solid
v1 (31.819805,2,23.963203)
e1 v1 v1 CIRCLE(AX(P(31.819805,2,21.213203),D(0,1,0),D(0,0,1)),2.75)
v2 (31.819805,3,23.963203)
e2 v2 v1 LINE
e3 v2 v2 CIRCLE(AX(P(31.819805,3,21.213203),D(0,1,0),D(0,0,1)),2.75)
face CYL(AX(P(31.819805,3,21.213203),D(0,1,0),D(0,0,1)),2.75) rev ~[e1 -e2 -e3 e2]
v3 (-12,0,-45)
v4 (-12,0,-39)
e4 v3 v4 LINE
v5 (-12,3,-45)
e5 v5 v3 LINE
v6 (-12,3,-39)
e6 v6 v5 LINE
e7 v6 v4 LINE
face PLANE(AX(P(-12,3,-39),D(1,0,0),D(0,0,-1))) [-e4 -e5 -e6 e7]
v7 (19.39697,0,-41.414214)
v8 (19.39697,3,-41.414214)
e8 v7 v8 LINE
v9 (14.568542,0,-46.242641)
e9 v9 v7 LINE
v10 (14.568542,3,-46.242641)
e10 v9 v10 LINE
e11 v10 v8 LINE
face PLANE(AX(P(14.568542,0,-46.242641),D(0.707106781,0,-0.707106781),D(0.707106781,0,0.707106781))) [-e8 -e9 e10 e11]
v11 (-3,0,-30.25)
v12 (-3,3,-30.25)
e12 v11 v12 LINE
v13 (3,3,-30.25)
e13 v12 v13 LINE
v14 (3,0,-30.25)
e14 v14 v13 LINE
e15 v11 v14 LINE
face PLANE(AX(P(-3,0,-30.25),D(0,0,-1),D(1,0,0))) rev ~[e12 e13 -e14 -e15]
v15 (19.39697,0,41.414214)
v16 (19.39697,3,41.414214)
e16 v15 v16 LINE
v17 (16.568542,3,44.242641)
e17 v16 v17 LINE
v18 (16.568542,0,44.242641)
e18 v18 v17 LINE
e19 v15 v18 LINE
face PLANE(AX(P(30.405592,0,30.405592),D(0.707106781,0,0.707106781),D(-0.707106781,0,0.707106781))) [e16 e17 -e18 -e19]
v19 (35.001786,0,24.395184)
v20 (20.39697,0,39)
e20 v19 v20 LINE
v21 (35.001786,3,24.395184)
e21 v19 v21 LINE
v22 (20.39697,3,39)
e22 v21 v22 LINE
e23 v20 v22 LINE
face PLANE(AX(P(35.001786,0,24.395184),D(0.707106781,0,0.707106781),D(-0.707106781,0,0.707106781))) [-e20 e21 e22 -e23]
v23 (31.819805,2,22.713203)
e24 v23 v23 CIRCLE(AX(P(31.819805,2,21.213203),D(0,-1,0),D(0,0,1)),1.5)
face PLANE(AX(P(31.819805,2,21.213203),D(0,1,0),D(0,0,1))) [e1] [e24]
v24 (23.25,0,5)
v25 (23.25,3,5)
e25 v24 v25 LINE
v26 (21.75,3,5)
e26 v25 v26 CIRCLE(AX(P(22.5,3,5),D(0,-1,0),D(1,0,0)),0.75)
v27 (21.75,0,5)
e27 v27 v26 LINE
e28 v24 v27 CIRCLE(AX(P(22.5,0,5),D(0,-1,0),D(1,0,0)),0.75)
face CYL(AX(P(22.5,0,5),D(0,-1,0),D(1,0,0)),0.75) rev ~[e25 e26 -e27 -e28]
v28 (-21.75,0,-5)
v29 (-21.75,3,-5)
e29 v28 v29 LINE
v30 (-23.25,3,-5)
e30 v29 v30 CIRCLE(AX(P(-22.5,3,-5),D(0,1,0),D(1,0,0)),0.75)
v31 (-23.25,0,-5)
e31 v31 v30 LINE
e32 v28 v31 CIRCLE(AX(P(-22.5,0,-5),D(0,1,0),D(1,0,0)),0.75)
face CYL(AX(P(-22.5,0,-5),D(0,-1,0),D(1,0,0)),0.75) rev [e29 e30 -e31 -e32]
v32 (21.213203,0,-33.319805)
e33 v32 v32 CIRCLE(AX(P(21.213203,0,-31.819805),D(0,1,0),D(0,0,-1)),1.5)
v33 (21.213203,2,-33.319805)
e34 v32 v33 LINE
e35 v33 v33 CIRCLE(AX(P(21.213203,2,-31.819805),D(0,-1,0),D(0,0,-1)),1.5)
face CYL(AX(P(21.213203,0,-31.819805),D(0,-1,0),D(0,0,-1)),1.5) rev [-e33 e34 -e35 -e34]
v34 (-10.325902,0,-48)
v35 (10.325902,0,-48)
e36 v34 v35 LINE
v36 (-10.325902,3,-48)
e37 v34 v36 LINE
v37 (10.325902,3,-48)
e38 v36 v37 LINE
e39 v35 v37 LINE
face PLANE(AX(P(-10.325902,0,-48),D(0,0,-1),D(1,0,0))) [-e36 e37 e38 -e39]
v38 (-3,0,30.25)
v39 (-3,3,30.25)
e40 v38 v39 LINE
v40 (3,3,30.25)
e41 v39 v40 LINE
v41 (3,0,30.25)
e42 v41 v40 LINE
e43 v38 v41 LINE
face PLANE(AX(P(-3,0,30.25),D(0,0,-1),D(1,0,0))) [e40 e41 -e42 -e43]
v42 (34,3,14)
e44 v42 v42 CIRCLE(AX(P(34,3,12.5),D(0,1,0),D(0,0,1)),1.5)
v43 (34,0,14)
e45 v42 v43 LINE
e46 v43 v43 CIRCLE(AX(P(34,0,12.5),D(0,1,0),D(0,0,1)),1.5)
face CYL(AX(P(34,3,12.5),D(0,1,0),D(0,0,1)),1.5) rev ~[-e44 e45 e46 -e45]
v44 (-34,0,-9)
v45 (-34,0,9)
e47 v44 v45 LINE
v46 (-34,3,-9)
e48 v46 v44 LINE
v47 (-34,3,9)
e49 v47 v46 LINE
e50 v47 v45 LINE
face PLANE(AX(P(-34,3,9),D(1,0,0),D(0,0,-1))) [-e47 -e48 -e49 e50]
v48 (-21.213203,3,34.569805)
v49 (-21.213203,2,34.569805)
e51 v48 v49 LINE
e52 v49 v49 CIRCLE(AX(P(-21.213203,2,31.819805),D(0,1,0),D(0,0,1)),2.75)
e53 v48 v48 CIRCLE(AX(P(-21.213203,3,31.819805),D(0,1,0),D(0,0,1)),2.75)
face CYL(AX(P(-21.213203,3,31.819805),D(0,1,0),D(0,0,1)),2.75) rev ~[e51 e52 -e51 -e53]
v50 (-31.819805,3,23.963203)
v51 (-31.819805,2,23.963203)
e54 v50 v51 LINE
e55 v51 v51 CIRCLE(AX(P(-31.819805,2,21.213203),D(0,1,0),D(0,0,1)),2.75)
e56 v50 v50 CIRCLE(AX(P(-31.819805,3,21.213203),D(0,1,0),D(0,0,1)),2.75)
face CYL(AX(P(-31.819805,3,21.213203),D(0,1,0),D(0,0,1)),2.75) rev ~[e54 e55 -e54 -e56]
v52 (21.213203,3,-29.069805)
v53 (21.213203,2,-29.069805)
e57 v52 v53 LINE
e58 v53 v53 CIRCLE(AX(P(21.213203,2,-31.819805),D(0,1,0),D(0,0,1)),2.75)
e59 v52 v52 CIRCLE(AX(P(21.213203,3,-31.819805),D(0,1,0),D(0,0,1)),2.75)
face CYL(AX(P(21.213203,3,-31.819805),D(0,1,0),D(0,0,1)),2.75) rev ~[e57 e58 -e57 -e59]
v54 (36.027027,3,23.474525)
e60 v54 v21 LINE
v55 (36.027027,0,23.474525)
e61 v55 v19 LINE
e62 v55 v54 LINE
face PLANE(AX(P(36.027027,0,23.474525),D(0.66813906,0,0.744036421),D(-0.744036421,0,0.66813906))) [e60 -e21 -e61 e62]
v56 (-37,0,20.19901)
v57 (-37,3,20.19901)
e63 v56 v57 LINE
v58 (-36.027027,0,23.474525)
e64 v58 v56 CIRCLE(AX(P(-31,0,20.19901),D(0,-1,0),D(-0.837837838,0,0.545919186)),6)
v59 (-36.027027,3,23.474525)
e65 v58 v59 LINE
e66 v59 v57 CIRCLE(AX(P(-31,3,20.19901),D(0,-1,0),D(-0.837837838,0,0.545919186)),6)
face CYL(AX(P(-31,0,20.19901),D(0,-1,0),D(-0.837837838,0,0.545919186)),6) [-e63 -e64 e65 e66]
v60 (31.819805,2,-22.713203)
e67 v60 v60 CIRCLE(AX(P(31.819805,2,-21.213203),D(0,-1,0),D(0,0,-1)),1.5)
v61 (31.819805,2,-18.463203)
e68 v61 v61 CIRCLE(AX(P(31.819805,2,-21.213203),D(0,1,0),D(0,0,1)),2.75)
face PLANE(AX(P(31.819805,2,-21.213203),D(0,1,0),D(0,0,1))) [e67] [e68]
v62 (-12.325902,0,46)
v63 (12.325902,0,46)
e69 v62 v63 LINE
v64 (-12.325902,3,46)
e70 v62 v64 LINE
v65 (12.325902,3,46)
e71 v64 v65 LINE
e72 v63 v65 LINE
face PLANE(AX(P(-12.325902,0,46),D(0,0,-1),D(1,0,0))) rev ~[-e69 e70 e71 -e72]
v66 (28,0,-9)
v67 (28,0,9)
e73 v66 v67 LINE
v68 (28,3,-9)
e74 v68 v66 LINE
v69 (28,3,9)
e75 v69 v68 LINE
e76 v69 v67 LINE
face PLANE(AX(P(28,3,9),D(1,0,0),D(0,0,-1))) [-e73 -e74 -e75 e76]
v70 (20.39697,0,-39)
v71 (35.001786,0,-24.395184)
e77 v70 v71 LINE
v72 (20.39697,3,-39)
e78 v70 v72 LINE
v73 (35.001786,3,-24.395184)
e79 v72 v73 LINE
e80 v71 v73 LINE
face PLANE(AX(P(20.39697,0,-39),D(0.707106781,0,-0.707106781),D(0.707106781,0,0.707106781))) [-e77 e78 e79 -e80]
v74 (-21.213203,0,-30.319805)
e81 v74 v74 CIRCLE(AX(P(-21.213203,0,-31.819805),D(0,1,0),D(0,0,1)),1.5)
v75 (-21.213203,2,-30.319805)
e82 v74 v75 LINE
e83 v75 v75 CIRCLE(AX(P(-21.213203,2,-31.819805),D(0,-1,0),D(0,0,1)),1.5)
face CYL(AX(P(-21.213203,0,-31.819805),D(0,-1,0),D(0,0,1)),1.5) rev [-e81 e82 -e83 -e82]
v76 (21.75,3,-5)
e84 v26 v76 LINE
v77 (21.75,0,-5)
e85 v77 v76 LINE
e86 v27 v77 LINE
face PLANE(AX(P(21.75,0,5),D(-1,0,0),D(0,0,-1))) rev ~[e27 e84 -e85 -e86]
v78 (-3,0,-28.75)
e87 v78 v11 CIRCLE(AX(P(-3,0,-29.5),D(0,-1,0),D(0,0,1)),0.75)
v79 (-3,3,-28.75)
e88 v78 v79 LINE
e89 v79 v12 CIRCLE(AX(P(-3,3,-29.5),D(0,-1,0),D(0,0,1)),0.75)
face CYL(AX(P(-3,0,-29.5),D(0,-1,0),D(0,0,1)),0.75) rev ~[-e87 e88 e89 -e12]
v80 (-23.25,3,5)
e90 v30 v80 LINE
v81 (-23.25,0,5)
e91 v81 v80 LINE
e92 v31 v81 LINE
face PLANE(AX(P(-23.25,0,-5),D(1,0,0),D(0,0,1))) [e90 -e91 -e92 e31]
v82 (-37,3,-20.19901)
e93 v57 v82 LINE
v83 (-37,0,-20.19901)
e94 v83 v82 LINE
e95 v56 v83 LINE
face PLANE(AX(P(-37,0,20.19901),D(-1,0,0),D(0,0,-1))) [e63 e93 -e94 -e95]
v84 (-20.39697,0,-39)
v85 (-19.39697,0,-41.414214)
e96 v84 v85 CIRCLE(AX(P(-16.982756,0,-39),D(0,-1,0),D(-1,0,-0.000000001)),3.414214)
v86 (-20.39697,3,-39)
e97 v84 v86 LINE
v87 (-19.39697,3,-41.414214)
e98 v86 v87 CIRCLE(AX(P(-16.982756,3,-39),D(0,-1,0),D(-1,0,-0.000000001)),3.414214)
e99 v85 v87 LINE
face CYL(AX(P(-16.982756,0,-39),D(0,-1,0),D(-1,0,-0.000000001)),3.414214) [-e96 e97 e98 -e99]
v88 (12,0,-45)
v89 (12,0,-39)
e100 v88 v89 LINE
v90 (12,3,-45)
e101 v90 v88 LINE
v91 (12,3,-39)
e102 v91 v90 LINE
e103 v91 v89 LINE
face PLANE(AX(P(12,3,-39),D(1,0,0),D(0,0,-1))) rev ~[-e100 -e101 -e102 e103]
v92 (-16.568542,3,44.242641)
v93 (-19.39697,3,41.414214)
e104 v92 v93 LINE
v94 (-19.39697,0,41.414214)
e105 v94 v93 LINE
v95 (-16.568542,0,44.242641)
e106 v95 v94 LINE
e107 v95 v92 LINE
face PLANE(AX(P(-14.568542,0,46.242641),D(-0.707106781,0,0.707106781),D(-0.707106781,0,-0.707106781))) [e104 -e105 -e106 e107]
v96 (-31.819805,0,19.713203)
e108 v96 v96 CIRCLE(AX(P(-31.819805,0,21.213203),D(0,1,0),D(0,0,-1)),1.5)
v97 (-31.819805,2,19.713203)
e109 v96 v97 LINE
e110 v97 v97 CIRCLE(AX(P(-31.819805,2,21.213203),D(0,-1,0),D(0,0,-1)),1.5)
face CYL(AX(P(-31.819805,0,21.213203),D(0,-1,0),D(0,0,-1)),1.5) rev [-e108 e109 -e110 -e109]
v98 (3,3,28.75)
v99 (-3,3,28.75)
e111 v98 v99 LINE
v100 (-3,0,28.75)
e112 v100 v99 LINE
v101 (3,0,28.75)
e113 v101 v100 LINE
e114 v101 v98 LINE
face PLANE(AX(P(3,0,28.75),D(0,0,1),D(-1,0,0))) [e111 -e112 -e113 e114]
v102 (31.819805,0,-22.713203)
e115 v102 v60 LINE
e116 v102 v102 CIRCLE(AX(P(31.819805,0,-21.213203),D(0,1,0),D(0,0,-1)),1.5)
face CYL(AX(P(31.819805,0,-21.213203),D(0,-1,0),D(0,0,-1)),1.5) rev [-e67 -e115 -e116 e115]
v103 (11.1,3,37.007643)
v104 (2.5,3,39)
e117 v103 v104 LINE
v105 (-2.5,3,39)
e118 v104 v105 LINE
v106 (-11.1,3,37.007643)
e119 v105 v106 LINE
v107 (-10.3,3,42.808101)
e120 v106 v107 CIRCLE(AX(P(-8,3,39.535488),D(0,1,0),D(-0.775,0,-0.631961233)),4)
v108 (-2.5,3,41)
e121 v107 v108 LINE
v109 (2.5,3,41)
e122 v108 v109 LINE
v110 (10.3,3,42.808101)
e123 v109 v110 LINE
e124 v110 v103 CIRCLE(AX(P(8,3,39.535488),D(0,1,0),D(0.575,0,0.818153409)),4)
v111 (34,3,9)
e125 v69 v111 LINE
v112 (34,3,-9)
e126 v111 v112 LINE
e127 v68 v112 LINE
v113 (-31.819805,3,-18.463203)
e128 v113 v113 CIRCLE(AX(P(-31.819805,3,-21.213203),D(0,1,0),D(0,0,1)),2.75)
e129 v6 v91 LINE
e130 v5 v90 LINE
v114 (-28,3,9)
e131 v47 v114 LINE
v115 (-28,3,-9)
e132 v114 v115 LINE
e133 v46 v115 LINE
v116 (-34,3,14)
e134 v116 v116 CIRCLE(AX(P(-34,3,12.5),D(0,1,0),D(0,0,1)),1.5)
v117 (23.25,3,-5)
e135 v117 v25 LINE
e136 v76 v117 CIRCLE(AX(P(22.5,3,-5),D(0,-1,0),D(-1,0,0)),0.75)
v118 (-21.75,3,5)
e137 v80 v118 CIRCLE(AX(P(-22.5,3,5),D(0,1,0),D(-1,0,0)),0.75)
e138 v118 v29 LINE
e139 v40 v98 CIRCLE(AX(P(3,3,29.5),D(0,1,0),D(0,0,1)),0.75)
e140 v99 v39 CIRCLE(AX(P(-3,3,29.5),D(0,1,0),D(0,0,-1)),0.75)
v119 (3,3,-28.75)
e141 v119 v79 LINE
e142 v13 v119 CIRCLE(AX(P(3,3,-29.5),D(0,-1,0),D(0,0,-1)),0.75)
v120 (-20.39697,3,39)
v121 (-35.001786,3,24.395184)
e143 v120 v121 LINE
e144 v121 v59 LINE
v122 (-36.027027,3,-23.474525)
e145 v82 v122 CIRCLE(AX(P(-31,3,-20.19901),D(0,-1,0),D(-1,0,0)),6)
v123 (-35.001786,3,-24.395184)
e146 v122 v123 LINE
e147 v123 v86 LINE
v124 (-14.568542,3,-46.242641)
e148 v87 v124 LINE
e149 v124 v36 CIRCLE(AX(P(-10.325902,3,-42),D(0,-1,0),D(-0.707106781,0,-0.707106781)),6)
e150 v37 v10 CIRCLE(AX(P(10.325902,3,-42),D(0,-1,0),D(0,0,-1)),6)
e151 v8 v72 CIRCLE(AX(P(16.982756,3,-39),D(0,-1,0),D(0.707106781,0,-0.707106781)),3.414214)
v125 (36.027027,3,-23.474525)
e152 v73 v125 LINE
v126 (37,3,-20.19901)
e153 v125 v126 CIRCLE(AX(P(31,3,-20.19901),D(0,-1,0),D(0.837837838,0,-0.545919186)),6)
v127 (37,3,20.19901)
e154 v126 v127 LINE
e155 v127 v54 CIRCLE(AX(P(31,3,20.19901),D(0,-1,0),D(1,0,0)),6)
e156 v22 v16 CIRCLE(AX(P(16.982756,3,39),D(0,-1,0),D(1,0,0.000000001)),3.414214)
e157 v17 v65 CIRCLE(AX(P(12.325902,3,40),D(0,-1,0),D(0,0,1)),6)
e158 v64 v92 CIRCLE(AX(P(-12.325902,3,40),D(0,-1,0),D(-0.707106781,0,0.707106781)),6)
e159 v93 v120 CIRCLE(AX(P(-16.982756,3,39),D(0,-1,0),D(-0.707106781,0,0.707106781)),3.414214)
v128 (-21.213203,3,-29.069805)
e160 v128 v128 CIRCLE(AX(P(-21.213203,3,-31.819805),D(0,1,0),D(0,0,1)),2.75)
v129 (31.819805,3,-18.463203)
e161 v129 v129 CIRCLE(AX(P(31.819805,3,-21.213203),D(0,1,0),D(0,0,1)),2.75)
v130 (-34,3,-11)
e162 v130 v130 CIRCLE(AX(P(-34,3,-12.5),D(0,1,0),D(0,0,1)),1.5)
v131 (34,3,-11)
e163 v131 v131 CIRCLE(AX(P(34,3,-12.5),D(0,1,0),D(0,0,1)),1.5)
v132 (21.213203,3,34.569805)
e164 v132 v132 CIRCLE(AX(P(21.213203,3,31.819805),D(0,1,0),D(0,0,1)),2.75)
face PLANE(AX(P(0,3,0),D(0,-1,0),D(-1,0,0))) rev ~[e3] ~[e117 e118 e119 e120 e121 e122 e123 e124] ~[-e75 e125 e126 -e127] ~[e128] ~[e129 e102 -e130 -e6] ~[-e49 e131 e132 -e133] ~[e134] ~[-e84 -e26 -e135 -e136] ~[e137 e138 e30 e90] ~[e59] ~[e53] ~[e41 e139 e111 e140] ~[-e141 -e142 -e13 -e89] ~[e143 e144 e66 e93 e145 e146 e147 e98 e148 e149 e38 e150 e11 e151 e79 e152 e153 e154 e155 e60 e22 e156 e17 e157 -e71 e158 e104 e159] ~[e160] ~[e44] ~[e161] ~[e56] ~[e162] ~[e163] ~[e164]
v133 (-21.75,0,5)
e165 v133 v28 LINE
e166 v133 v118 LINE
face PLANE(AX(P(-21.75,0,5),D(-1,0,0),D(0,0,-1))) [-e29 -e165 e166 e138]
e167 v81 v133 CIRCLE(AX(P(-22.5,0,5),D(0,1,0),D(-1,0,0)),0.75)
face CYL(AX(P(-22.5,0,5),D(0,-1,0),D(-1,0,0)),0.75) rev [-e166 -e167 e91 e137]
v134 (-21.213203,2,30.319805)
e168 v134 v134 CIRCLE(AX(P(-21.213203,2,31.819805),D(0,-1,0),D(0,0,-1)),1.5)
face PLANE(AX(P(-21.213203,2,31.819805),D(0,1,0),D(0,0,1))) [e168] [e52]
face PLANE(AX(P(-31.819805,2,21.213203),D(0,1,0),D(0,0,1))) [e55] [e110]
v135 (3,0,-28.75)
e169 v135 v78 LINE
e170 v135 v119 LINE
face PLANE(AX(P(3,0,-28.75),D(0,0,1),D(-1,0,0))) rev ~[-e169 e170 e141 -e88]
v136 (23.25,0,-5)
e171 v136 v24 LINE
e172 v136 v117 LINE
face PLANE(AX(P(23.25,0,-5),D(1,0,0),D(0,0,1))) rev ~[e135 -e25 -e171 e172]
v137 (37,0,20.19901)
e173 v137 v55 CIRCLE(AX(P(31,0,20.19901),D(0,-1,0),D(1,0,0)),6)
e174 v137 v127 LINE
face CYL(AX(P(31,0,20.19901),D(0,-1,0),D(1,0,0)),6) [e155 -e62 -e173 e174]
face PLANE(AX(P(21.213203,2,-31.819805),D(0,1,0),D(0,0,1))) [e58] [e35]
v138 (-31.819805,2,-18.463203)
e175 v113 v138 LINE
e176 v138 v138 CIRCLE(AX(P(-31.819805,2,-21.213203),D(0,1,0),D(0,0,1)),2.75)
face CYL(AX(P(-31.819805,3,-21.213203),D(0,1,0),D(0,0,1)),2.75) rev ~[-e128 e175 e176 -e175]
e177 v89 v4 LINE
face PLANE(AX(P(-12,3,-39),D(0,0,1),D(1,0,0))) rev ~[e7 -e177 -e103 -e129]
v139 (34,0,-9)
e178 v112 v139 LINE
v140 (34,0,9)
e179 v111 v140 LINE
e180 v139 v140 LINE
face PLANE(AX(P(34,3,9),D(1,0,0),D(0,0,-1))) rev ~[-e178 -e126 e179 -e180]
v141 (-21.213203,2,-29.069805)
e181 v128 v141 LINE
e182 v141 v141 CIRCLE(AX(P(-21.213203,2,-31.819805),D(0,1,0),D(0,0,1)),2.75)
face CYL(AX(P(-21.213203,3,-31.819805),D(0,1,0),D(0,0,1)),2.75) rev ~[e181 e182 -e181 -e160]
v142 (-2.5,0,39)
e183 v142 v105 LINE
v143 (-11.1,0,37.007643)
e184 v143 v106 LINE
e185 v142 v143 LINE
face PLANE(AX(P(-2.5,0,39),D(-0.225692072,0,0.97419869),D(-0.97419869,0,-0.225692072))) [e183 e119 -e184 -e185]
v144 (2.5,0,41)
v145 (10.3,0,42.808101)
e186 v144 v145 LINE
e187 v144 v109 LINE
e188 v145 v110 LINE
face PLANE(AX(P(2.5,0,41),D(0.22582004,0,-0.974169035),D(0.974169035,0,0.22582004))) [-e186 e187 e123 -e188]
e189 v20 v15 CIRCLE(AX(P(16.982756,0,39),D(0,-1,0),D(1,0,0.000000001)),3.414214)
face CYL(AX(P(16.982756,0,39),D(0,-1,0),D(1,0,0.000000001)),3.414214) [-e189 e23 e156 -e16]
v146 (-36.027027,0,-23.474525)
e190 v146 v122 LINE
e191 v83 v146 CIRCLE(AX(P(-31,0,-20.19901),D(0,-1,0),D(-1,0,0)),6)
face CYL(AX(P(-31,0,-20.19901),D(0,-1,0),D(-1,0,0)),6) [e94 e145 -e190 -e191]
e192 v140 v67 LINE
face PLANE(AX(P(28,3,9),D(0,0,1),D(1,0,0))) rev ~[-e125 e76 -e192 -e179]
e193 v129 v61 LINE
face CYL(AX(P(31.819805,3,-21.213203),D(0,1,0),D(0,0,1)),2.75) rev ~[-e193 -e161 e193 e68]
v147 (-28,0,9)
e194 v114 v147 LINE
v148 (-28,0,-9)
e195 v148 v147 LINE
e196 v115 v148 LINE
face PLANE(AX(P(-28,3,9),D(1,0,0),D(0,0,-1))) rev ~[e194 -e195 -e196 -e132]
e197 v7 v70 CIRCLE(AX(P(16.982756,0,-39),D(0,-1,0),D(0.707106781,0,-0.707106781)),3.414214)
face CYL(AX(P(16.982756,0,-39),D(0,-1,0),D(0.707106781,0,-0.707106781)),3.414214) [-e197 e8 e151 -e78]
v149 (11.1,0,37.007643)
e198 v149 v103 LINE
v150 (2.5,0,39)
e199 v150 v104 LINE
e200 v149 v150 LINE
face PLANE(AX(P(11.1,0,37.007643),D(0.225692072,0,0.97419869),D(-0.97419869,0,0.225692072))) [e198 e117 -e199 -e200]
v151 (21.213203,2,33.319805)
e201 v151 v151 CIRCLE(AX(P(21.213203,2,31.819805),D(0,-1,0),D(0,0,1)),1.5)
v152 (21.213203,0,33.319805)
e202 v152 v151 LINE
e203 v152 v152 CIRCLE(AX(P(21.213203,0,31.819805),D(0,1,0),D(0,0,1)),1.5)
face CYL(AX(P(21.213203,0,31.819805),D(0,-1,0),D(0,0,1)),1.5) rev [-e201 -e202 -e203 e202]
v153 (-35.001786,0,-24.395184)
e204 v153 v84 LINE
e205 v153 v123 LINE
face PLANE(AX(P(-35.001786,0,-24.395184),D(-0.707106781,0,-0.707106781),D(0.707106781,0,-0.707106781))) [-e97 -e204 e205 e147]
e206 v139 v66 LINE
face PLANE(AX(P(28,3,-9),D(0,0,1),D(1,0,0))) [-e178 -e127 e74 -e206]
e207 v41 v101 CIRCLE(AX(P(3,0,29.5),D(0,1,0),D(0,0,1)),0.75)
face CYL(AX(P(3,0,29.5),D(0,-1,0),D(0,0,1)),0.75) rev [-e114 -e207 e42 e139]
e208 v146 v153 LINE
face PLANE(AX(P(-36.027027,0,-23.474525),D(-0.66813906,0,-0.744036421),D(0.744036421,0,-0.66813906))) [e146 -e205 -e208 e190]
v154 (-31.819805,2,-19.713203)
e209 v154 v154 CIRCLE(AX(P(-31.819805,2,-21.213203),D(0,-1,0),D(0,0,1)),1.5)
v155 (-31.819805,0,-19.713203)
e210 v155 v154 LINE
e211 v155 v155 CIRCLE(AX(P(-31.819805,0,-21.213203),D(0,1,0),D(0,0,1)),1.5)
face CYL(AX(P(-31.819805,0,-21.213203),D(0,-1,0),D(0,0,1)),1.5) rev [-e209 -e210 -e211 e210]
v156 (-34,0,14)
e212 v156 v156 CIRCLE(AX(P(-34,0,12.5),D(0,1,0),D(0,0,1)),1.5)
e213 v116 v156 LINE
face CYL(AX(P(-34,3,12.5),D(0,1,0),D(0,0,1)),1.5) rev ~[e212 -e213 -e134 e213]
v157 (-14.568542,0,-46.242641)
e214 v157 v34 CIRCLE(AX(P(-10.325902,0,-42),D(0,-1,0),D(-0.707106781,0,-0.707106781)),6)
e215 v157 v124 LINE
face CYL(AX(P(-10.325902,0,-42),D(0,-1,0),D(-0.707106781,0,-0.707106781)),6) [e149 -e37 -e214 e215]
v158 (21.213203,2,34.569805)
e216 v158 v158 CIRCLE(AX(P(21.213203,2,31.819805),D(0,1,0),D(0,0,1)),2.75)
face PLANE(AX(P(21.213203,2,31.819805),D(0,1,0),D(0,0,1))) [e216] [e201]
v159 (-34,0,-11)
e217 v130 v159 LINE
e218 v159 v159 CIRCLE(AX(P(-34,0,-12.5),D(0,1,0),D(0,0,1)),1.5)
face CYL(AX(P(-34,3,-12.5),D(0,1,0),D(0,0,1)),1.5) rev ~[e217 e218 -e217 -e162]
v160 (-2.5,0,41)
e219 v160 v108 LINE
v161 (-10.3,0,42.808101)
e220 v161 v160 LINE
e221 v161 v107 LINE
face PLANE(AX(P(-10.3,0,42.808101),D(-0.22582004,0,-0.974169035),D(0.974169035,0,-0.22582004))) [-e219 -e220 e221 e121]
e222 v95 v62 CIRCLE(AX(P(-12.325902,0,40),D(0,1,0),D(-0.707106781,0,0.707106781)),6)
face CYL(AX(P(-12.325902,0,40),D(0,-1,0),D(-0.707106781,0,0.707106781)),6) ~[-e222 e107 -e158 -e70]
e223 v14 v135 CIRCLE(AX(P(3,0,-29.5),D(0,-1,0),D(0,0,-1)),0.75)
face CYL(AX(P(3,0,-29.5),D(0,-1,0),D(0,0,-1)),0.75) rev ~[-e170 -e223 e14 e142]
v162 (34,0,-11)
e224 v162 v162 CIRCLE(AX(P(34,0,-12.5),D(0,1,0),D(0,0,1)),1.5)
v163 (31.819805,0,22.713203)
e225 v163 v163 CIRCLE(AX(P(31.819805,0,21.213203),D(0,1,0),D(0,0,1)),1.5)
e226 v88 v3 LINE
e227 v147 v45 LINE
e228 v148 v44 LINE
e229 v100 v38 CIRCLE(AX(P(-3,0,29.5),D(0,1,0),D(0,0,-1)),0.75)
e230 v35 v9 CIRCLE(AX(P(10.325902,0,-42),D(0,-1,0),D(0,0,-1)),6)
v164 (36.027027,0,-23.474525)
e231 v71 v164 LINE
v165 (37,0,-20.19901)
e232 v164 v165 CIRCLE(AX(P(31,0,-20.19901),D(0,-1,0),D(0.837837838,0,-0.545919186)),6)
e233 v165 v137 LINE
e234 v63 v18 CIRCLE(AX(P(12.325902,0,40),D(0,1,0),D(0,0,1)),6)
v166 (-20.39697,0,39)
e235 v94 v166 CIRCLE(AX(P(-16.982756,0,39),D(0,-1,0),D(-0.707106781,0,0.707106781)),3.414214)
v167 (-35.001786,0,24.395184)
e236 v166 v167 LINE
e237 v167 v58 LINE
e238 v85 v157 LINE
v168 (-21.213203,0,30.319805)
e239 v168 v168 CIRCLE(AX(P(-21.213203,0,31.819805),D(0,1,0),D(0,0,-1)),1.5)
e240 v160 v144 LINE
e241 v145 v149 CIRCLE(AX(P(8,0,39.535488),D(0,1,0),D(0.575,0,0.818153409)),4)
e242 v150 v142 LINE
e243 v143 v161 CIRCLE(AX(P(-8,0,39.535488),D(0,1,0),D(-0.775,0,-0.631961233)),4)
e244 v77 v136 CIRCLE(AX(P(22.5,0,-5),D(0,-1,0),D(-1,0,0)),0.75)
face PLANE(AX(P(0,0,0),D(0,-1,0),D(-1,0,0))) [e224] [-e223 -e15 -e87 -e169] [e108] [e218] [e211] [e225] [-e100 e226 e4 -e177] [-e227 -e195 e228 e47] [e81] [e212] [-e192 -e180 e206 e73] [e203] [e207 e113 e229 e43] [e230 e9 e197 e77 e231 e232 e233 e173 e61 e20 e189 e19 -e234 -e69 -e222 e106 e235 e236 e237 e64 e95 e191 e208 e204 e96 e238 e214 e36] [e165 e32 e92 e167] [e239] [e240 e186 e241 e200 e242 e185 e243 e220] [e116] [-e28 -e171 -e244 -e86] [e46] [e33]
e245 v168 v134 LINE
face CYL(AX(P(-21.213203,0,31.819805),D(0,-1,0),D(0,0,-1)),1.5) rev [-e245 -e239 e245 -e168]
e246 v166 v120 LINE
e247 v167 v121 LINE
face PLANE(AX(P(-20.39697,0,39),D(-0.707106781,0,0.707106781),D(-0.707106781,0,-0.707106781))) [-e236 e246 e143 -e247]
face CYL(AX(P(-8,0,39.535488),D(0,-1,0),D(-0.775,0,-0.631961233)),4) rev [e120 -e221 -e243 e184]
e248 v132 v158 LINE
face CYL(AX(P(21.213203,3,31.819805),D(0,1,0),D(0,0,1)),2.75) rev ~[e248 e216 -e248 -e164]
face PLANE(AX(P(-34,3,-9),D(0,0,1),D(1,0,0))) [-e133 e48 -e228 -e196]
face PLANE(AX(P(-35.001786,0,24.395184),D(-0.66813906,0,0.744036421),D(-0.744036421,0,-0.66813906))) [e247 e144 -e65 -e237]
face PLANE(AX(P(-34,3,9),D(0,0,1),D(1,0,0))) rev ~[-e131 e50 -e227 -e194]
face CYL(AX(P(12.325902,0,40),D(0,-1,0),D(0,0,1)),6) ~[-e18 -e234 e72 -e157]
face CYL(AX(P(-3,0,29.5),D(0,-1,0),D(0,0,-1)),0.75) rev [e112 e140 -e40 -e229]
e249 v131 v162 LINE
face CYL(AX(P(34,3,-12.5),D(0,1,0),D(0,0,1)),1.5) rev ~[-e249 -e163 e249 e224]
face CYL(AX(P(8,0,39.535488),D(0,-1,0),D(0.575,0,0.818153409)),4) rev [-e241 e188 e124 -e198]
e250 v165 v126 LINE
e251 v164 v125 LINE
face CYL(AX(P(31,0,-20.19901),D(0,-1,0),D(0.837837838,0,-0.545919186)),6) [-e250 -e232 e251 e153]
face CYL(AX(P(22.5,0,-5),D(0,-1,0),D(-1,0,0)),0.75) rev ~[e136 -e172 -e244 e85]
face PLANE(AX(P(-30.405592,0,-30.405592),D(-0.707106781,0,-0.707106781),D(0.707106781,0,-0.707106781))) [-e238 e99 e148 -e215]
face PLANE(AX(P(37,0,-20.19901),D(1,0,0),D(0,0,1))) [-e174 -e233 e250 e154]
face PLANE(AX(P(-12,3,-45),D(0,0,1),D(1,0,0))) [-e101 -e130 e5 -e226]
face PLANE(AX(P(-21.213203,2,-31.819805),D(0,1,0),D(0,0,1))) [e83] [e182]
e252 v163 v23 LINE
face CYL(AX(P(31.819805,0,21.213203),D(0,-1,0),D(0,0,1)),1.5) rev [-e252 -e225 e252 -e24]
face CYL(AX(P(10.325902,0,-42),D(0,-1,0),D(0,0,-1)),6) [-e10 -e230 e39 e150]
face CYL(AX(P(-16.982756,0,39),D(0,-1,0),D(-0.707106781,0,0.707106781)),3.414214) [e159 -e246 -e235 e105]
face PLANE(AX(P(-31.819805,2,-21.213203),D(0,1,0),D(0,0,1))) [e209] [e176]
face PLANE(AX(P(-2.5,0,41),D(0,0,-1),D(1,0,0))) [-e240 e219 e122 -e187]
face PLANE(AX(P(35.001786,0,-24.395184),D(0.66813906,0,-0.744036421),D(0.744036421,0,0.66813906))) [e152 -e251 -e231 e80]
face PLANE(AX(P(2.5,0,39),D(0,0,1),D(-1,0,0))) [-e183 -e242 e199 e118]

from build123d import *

# Parameters (mm, degrees)
SKETCH_1_R          = 1.5
EXTRUDE_1_DEPTH     = 3
SKETCH_2_R          = 2.75
CUT_EXTRUDE_1_DEPTH = 1
SKETCH_3_R          = 1.5
SKETCH_3_W          = 24
SKETCH_3_H          = 6
SKETCH_3_W_2        = 6
SKETCH_3_H_2        = 18
CUT_EXTRUDE_2_DEPTH = 10
CUT_EXTRUDE_3_DEPTH = 10
EXTRUDE_2_DEPTH     = 3
CUT_EXTRUDE_4_DEPTH = 3
CUT_EXTRUDE_5_DEPTH = 10


with BuildPart() as part:
    # 草图1 → 凸台-拉伸1 (new body)
    with BuildSketch(Plane(origin=(0, 0, 0), x_dir=(1, 0, 0), z_dir=(0, 1, 0))):
        with BuildLine():
            Line((-10.325901808, 48), (10.325901808, 48))
            ThreePointArc((10.325901808, 48), (12.622002402, 47.543277195), (14.568542495, 46.242640687))
            Line((14.568542495, 46.242640687), (30.405591591, 30.405591591))
            ThreePointArc((30.405591591, 30.405591591), (33.396603497, 27.086285733), (36.027027027, 23.474524992))
            ThreePointArc((36.027027027, 23.474524992), (36.751615519, 21.907494269), (37, 20.199009877))
            Line((37, 20.199009877), (37, -20.199009877))
            ThreePointArc((37, -20.199009877), (36.751615519, -21.907494269), (36.027027027, -23.474524992))
            ThreePointArc((36.027027027, -23.474524992), (33.396603497, -27.086285733), (30.405591591, -30.405591591))
            Line((30.405591591, -30.405591591), (14.568542495, -46.242640687))
            ThreePointArc((14.568542495, -46.242640687), (12.622002402, -47.543277195), (10.325901808, -48))
            Line((10.325901808, -48), (-10.325901808, -48))
            ThreePointArc((-10.325901808, -48), (-12.622002402, -47.543277195), (-14.568542495, -46.242640687))
            Line((-14.568542495, -46.242640687), (-30.405591591, -30.405591591))
            ThreePointArc((-30.405591591, -30.405591591), (-33.396603497, -27.086285733), (-36.027027027, -23.474524992))
            ThreePointArc((-36.027027027, -23.474524992), (-36.751615519, -21.907494269), (-37, -20.199009877))
            Line((-37, -20.199009877), (-37, 20.199009877))
            ThreePointArc((-37, 20.199009877), (-36.751615519, 21.907494269), (-36.027027027, 23.474524992))
            ThreePointArc((-36.027027027, 23.474524992), (-33.396603497, 27.086285733), (-30.405591591, 30.405591591))
            Line((-30.405591591, 30.405591591), (-14.568542495, 46.242640687))
            ThreePointArc((-14.568542495, 46.242640687), (-12.622002402, 47.543277195), (-10.325901808, 48))
        make_face()
        with Locations(Location((-21.213203436, 31.819805153, 0), (0, 0, 270))):
            Circle(SKETCH_1_R, mode=Mode.SUBTRACT)
        with Locations(Location((-31.819805153, 21.213203436, 0), (0, 0, 270))):
            Circle(SKETCH_1_R, mode=Mode.SUBTRACT)
        with Locations(Location((31.819805153, 21.213203436, 0), (0, 0, 90))):
            Circle(SKETCH_1_R, mode=Mode.SUBTRACT)
        with Locations(Location((21.213203436, 31.819805153, 0), (0, 0, 90))):
            Circle(SKETCH_1_R, mode=Mode.SUBTRACT)
        with Locations(Location((-31.819805153, -21.213203436, 0), (0, 0, 90))):
            Circle(SKETCH_1_R, mode=Mode.SUBTRACT)
        with Locations(Location((-21.213203436, -31.819805153, 0), (0, 0, 90))):
            Circle(SKETCH_1_R, mode=Mode.SUBTRACT)
        with Locations(Location((31.819805153, -21.213203436, 0), (0, 0, 270))):
            Circle(SKETCH_1_R, mode=Mode.SUBTRACT)
        with Locations(Location((21.213203436, -31.819805153, 0), (0, 0, 270))):
            Circle(SKETCH_1_R, mode=Mode.SUBTRACT)
    extrude(amount=EXTRUDE_1_DEPTH)

    # 草图2 → 切除-拉伸1 (cut)
    with BuildSketch(Plane(origin=(0, 3, 0), x_dir=(1, 0, 0), z_dir=(0, 1, 0))):
        with Locations(Location((-21.213203436, 31.819805153, 0), (0, 0, 270))):
            Circle(SKETCH_2_R)
        with Locations(Location((-31.819805153, 21.213203436, 0), (0, 0, 270))):
            Circle(SKETCH_2_R)
        with Locations(Location((21.213203436, 31.819805153, 0), (0, 0, 270))):
            Circle(SKETCH_2_R)
        with Locations(Location((31.819805153, 21.213203436, 0), (0, 0, 270))):
            Circle(SKETCH_2_R)
        with Locations(Location((-31.819805153, -21.213203436, 0), (0, 0, 270))):
            Circle(SKETCH_2_R)
        with Locations(Location((-21.213203436, -31.819805153, 0), (0, 0, 270))):
            Circle(SKETCH_2_R)
        with Locations(Location((21.213203436, -31.819805153, 0), (0, 0, 270))):
            Circle(SKETCH_2_R)
        with Locations(Location((31.819805153, -21.213203436, 0), (0, 0, 270))):
            Circle(SKETCH_2_R)
    extrude(amount=-CUT_EXTRUDE_1_DEPTH, mode=Mode.SUBTRACT)

    # 草图3 → 切除-拉伸2 (cut)
    with BuildSketch(Plane(origin=(0, 3, 0), x_dir=(1, 0, 0), z_dir=(0, 1, 0))):
        with Locations(Location((-34, 12.5, 0), (0, 0, 270))):
            Circle(SKETCH_3_R)
        with Locations(Location((-34, -12.5, 0), (0, 0, 270))):
            Circle(SKETCH_3_R)
        with Locations(Location((34, 12.5, 0), (0, 0, 270))):
            Circle(SKETCH_3_R)
        with Locations(Location((34, -12.5, 0), (0, 0, 270))):
            Circle(SKETCH_3_R)
        with Locations((0, -40)):
            Rectangle(SKETCH_3_W, SKETCH_3_H)
        with Locations((0, 42)):
            Rectangle(SKETCH_3_W, SKETCH_3_H)
        with Locations((31, 0)):
            Rectangle(SKETCH_3_W_2, SKETCH_3_H_2)
        with Locations((-31, 0)):
            Rectangle(SKETCH_3_W_2, SKETCH_3_H_2)
    extrude(amount=-CUT_EXTRUDE_2_DEPTH, mode=Mode.SUBTRACT)

    # 草图4 → 切除-拉伸3 (cut)
    with BuildSketch(Plane.XZ):
        with BuildLine():
            Line((-12.325901808, 46), (12.325901808, 46))
            ThreePointArc((12.325901808, 46), (14.622002402, 45.543277195), (16.568542495, 44.242640687))
            Line((16.568542495, 44.242640687), (16.568542495, 49))
            Line((16.568542495, 49), (-16.568542495, 49))
            Line((-16.568542495, 49), (-16.568542495, 44.242640687))
            ThreePointArc((-16.568542495, 44.242640687), (-14.622002402, 45.543277195), (-12.325901808, 46))
        make_face()
    extrude(amount=-CUT_EXTRUDE_3_DEPTH, mode=Mode.SUBTRACT)

    # 草图5 → 凸台-拉伸2 (add)
    with BuildSketch(Plane.XZ):
        Polygon((-12, 37), (-12, 36), (12, 36), (12, 37), (13, 37), (13, 43), (12, 43), (12, 44), (-12, 44), (-12, 43), (-13, 43), (-13, 37), align=None)
        with BuildLine():
            Line((-10.3, 42.808101317), (-2.5, 41))
            Line((-2.5, 41), (2.5, 41))
            Line((2.5, 41), (10.3, 42.808101317))
            ThreePointArc((10.3, 42.808101317), (11.962490365, 40.08199487), (11.1, 37.007642751))
            Line((11.1, 37.007642751), (2.5, 39))
            Line((2.5, 39), (-2.5, 39))
            Line((-2.5, 39), (-11.1, 37.007642751))
            ThreePointArc((-11.1, 37.007642751), (-11.962490365, 40.08199487), (-10.3, 42.808101317))
        make_face(mode=Mode.SUBTRACT)
    extrude(amount=-EXTRUDE_2_DEPTH)

    # 草图6 → 切除-拉伸4 (cut)
    with BuildSketch(Plane.XZ):
        with BuildLine():
            Line((-21.75, 5), (-21.75, -5))
            ThreePointArc((-21.75, -5), (-22.5, -5.75), (-23.25, -5))
            Line((-23.25, -5), (-23.25, 5))
            ThreePointArc((-23.25, 5), (-22.5, 5.75), (-21.75, 5))
        make_face()
        with BuildLine():
            Line((-3, 30.25), (3, 30.25))
            ThreePointArc((3, 30.25), (3.75, 29.5), (3, 28.75))
            Line((3, 28.75), (-3, 28.75))
            ThreePointArc((-3, 28.75), (-3.75, 29.5), (-3, 30.25))
        make_face()
        with BuildLine():
            Line((-3, -30.25), (3, -30.25))
            ThreePointArc((3, -30.25), (3.75, -29.5), (3, -28.75))
            Line((3, -28.75), (-3, -28.75))
            ThreePointArc((-3, -28.75), (-3.75, -29.5), (-3, -30.25))
        make_face()
        with BuildLine():
            Line((21.75, 5), (21.75, -5))
            ThreePointArc((21.75, -5), (22.5, -5.75), (23.25, -5))
            Line((23.25, -5), (23.25, 5))
            ThreePointArc((23.25, 5), (22.5, 5.75), (21.75, 5))
        make_face()
    extrude(amount=-CUT_EXTRUDE_4_DEPTH, mode=Mode.SUBTRACT)

    # 草图7 → 切除-拉伸5 (cut)
    with BuildSketch(Plane.XZ):
        with BuildLine():
            Line((-20.39696962, 39), (-35.001785669, 24.395183951))
            Line((-35.001785669, 24.395183951), (-36.027027027, 23.474524992))
            Line((-36.027027027, 23.474524992), (-38.280094512, 25.727592477))
            Line((-38.280094512, 25.727592477), (-20.995221523, 43.012465466))
            Line((-20.995221523, 43.012465466), (-19.39696962, 41.414213562))
            ThreePointArc((-19.39696962, 41.414213562), (-20.137078087, 40.306562965), (-20.39696962, 39))
        make_face()
        with BuildLine():
            Line((38.280094512, 25.727592477), (36.027027027, 23.474524992))
            Line((36.027027027, 23.474524992), (35.001785669, 24.395183951))
            Line((35.001785669, 24.395183951), (20.39696962, 39))
            ThreePointArc((20.39696962, 39), (20.137078087, 40.306562965), (19.39696962, 41.414213562))
            Line((19.39696962, 41.414213562), (20.995221523, 43.012465466))
            Line((20.995221523, 43.012465466), (38.280094512, 25.727592477))
        make_face()
        with BuildLine():
            Line((35.001785669, -24.395183951), (36.027027027, -23.474524992))
            Line((36.027027027, -23.474524992), (38.280094512, -25.727592477))
            Line((38.280094512, -25.727592477), (20.995221523, -43.012465466))
            Line((20.995221523, -43.012465466), (19.39696962, -41.414213562))
            ThreePointArc((19.39696962, -41.414213562), (20.137078087, -40.306562965), (20.39696962, -39))
            Line((20.39696962, -39), (35.001785669, -24.395183951))
        make_face()
        with BuildLine():
            Line((-20.995221523, -43.012465466), (-38.280094512, -25.727592477))
            Line((-38.280094512, -25.727592477), (-36.027027027, -23.474524992))
            Line((-36.027027027, -23.474524992), (-35.001785669, -24.395183951))
            Line((-35.001785669, -24.395183951), (-20.39696962, -39))
            ThreePointArc((-20.39696962, -39), (-20.137078087, -40.306562965), (-19.39696962, -41.414213562))
            Line((-19.39696962, -41.414213562), (-20.995221523, -43.012465466))
        make_face()
    extrude(amount=-CUT_EXTRUDE_5_DEPTH, mode=Mode.SUBTRACT)


solid = part.part
